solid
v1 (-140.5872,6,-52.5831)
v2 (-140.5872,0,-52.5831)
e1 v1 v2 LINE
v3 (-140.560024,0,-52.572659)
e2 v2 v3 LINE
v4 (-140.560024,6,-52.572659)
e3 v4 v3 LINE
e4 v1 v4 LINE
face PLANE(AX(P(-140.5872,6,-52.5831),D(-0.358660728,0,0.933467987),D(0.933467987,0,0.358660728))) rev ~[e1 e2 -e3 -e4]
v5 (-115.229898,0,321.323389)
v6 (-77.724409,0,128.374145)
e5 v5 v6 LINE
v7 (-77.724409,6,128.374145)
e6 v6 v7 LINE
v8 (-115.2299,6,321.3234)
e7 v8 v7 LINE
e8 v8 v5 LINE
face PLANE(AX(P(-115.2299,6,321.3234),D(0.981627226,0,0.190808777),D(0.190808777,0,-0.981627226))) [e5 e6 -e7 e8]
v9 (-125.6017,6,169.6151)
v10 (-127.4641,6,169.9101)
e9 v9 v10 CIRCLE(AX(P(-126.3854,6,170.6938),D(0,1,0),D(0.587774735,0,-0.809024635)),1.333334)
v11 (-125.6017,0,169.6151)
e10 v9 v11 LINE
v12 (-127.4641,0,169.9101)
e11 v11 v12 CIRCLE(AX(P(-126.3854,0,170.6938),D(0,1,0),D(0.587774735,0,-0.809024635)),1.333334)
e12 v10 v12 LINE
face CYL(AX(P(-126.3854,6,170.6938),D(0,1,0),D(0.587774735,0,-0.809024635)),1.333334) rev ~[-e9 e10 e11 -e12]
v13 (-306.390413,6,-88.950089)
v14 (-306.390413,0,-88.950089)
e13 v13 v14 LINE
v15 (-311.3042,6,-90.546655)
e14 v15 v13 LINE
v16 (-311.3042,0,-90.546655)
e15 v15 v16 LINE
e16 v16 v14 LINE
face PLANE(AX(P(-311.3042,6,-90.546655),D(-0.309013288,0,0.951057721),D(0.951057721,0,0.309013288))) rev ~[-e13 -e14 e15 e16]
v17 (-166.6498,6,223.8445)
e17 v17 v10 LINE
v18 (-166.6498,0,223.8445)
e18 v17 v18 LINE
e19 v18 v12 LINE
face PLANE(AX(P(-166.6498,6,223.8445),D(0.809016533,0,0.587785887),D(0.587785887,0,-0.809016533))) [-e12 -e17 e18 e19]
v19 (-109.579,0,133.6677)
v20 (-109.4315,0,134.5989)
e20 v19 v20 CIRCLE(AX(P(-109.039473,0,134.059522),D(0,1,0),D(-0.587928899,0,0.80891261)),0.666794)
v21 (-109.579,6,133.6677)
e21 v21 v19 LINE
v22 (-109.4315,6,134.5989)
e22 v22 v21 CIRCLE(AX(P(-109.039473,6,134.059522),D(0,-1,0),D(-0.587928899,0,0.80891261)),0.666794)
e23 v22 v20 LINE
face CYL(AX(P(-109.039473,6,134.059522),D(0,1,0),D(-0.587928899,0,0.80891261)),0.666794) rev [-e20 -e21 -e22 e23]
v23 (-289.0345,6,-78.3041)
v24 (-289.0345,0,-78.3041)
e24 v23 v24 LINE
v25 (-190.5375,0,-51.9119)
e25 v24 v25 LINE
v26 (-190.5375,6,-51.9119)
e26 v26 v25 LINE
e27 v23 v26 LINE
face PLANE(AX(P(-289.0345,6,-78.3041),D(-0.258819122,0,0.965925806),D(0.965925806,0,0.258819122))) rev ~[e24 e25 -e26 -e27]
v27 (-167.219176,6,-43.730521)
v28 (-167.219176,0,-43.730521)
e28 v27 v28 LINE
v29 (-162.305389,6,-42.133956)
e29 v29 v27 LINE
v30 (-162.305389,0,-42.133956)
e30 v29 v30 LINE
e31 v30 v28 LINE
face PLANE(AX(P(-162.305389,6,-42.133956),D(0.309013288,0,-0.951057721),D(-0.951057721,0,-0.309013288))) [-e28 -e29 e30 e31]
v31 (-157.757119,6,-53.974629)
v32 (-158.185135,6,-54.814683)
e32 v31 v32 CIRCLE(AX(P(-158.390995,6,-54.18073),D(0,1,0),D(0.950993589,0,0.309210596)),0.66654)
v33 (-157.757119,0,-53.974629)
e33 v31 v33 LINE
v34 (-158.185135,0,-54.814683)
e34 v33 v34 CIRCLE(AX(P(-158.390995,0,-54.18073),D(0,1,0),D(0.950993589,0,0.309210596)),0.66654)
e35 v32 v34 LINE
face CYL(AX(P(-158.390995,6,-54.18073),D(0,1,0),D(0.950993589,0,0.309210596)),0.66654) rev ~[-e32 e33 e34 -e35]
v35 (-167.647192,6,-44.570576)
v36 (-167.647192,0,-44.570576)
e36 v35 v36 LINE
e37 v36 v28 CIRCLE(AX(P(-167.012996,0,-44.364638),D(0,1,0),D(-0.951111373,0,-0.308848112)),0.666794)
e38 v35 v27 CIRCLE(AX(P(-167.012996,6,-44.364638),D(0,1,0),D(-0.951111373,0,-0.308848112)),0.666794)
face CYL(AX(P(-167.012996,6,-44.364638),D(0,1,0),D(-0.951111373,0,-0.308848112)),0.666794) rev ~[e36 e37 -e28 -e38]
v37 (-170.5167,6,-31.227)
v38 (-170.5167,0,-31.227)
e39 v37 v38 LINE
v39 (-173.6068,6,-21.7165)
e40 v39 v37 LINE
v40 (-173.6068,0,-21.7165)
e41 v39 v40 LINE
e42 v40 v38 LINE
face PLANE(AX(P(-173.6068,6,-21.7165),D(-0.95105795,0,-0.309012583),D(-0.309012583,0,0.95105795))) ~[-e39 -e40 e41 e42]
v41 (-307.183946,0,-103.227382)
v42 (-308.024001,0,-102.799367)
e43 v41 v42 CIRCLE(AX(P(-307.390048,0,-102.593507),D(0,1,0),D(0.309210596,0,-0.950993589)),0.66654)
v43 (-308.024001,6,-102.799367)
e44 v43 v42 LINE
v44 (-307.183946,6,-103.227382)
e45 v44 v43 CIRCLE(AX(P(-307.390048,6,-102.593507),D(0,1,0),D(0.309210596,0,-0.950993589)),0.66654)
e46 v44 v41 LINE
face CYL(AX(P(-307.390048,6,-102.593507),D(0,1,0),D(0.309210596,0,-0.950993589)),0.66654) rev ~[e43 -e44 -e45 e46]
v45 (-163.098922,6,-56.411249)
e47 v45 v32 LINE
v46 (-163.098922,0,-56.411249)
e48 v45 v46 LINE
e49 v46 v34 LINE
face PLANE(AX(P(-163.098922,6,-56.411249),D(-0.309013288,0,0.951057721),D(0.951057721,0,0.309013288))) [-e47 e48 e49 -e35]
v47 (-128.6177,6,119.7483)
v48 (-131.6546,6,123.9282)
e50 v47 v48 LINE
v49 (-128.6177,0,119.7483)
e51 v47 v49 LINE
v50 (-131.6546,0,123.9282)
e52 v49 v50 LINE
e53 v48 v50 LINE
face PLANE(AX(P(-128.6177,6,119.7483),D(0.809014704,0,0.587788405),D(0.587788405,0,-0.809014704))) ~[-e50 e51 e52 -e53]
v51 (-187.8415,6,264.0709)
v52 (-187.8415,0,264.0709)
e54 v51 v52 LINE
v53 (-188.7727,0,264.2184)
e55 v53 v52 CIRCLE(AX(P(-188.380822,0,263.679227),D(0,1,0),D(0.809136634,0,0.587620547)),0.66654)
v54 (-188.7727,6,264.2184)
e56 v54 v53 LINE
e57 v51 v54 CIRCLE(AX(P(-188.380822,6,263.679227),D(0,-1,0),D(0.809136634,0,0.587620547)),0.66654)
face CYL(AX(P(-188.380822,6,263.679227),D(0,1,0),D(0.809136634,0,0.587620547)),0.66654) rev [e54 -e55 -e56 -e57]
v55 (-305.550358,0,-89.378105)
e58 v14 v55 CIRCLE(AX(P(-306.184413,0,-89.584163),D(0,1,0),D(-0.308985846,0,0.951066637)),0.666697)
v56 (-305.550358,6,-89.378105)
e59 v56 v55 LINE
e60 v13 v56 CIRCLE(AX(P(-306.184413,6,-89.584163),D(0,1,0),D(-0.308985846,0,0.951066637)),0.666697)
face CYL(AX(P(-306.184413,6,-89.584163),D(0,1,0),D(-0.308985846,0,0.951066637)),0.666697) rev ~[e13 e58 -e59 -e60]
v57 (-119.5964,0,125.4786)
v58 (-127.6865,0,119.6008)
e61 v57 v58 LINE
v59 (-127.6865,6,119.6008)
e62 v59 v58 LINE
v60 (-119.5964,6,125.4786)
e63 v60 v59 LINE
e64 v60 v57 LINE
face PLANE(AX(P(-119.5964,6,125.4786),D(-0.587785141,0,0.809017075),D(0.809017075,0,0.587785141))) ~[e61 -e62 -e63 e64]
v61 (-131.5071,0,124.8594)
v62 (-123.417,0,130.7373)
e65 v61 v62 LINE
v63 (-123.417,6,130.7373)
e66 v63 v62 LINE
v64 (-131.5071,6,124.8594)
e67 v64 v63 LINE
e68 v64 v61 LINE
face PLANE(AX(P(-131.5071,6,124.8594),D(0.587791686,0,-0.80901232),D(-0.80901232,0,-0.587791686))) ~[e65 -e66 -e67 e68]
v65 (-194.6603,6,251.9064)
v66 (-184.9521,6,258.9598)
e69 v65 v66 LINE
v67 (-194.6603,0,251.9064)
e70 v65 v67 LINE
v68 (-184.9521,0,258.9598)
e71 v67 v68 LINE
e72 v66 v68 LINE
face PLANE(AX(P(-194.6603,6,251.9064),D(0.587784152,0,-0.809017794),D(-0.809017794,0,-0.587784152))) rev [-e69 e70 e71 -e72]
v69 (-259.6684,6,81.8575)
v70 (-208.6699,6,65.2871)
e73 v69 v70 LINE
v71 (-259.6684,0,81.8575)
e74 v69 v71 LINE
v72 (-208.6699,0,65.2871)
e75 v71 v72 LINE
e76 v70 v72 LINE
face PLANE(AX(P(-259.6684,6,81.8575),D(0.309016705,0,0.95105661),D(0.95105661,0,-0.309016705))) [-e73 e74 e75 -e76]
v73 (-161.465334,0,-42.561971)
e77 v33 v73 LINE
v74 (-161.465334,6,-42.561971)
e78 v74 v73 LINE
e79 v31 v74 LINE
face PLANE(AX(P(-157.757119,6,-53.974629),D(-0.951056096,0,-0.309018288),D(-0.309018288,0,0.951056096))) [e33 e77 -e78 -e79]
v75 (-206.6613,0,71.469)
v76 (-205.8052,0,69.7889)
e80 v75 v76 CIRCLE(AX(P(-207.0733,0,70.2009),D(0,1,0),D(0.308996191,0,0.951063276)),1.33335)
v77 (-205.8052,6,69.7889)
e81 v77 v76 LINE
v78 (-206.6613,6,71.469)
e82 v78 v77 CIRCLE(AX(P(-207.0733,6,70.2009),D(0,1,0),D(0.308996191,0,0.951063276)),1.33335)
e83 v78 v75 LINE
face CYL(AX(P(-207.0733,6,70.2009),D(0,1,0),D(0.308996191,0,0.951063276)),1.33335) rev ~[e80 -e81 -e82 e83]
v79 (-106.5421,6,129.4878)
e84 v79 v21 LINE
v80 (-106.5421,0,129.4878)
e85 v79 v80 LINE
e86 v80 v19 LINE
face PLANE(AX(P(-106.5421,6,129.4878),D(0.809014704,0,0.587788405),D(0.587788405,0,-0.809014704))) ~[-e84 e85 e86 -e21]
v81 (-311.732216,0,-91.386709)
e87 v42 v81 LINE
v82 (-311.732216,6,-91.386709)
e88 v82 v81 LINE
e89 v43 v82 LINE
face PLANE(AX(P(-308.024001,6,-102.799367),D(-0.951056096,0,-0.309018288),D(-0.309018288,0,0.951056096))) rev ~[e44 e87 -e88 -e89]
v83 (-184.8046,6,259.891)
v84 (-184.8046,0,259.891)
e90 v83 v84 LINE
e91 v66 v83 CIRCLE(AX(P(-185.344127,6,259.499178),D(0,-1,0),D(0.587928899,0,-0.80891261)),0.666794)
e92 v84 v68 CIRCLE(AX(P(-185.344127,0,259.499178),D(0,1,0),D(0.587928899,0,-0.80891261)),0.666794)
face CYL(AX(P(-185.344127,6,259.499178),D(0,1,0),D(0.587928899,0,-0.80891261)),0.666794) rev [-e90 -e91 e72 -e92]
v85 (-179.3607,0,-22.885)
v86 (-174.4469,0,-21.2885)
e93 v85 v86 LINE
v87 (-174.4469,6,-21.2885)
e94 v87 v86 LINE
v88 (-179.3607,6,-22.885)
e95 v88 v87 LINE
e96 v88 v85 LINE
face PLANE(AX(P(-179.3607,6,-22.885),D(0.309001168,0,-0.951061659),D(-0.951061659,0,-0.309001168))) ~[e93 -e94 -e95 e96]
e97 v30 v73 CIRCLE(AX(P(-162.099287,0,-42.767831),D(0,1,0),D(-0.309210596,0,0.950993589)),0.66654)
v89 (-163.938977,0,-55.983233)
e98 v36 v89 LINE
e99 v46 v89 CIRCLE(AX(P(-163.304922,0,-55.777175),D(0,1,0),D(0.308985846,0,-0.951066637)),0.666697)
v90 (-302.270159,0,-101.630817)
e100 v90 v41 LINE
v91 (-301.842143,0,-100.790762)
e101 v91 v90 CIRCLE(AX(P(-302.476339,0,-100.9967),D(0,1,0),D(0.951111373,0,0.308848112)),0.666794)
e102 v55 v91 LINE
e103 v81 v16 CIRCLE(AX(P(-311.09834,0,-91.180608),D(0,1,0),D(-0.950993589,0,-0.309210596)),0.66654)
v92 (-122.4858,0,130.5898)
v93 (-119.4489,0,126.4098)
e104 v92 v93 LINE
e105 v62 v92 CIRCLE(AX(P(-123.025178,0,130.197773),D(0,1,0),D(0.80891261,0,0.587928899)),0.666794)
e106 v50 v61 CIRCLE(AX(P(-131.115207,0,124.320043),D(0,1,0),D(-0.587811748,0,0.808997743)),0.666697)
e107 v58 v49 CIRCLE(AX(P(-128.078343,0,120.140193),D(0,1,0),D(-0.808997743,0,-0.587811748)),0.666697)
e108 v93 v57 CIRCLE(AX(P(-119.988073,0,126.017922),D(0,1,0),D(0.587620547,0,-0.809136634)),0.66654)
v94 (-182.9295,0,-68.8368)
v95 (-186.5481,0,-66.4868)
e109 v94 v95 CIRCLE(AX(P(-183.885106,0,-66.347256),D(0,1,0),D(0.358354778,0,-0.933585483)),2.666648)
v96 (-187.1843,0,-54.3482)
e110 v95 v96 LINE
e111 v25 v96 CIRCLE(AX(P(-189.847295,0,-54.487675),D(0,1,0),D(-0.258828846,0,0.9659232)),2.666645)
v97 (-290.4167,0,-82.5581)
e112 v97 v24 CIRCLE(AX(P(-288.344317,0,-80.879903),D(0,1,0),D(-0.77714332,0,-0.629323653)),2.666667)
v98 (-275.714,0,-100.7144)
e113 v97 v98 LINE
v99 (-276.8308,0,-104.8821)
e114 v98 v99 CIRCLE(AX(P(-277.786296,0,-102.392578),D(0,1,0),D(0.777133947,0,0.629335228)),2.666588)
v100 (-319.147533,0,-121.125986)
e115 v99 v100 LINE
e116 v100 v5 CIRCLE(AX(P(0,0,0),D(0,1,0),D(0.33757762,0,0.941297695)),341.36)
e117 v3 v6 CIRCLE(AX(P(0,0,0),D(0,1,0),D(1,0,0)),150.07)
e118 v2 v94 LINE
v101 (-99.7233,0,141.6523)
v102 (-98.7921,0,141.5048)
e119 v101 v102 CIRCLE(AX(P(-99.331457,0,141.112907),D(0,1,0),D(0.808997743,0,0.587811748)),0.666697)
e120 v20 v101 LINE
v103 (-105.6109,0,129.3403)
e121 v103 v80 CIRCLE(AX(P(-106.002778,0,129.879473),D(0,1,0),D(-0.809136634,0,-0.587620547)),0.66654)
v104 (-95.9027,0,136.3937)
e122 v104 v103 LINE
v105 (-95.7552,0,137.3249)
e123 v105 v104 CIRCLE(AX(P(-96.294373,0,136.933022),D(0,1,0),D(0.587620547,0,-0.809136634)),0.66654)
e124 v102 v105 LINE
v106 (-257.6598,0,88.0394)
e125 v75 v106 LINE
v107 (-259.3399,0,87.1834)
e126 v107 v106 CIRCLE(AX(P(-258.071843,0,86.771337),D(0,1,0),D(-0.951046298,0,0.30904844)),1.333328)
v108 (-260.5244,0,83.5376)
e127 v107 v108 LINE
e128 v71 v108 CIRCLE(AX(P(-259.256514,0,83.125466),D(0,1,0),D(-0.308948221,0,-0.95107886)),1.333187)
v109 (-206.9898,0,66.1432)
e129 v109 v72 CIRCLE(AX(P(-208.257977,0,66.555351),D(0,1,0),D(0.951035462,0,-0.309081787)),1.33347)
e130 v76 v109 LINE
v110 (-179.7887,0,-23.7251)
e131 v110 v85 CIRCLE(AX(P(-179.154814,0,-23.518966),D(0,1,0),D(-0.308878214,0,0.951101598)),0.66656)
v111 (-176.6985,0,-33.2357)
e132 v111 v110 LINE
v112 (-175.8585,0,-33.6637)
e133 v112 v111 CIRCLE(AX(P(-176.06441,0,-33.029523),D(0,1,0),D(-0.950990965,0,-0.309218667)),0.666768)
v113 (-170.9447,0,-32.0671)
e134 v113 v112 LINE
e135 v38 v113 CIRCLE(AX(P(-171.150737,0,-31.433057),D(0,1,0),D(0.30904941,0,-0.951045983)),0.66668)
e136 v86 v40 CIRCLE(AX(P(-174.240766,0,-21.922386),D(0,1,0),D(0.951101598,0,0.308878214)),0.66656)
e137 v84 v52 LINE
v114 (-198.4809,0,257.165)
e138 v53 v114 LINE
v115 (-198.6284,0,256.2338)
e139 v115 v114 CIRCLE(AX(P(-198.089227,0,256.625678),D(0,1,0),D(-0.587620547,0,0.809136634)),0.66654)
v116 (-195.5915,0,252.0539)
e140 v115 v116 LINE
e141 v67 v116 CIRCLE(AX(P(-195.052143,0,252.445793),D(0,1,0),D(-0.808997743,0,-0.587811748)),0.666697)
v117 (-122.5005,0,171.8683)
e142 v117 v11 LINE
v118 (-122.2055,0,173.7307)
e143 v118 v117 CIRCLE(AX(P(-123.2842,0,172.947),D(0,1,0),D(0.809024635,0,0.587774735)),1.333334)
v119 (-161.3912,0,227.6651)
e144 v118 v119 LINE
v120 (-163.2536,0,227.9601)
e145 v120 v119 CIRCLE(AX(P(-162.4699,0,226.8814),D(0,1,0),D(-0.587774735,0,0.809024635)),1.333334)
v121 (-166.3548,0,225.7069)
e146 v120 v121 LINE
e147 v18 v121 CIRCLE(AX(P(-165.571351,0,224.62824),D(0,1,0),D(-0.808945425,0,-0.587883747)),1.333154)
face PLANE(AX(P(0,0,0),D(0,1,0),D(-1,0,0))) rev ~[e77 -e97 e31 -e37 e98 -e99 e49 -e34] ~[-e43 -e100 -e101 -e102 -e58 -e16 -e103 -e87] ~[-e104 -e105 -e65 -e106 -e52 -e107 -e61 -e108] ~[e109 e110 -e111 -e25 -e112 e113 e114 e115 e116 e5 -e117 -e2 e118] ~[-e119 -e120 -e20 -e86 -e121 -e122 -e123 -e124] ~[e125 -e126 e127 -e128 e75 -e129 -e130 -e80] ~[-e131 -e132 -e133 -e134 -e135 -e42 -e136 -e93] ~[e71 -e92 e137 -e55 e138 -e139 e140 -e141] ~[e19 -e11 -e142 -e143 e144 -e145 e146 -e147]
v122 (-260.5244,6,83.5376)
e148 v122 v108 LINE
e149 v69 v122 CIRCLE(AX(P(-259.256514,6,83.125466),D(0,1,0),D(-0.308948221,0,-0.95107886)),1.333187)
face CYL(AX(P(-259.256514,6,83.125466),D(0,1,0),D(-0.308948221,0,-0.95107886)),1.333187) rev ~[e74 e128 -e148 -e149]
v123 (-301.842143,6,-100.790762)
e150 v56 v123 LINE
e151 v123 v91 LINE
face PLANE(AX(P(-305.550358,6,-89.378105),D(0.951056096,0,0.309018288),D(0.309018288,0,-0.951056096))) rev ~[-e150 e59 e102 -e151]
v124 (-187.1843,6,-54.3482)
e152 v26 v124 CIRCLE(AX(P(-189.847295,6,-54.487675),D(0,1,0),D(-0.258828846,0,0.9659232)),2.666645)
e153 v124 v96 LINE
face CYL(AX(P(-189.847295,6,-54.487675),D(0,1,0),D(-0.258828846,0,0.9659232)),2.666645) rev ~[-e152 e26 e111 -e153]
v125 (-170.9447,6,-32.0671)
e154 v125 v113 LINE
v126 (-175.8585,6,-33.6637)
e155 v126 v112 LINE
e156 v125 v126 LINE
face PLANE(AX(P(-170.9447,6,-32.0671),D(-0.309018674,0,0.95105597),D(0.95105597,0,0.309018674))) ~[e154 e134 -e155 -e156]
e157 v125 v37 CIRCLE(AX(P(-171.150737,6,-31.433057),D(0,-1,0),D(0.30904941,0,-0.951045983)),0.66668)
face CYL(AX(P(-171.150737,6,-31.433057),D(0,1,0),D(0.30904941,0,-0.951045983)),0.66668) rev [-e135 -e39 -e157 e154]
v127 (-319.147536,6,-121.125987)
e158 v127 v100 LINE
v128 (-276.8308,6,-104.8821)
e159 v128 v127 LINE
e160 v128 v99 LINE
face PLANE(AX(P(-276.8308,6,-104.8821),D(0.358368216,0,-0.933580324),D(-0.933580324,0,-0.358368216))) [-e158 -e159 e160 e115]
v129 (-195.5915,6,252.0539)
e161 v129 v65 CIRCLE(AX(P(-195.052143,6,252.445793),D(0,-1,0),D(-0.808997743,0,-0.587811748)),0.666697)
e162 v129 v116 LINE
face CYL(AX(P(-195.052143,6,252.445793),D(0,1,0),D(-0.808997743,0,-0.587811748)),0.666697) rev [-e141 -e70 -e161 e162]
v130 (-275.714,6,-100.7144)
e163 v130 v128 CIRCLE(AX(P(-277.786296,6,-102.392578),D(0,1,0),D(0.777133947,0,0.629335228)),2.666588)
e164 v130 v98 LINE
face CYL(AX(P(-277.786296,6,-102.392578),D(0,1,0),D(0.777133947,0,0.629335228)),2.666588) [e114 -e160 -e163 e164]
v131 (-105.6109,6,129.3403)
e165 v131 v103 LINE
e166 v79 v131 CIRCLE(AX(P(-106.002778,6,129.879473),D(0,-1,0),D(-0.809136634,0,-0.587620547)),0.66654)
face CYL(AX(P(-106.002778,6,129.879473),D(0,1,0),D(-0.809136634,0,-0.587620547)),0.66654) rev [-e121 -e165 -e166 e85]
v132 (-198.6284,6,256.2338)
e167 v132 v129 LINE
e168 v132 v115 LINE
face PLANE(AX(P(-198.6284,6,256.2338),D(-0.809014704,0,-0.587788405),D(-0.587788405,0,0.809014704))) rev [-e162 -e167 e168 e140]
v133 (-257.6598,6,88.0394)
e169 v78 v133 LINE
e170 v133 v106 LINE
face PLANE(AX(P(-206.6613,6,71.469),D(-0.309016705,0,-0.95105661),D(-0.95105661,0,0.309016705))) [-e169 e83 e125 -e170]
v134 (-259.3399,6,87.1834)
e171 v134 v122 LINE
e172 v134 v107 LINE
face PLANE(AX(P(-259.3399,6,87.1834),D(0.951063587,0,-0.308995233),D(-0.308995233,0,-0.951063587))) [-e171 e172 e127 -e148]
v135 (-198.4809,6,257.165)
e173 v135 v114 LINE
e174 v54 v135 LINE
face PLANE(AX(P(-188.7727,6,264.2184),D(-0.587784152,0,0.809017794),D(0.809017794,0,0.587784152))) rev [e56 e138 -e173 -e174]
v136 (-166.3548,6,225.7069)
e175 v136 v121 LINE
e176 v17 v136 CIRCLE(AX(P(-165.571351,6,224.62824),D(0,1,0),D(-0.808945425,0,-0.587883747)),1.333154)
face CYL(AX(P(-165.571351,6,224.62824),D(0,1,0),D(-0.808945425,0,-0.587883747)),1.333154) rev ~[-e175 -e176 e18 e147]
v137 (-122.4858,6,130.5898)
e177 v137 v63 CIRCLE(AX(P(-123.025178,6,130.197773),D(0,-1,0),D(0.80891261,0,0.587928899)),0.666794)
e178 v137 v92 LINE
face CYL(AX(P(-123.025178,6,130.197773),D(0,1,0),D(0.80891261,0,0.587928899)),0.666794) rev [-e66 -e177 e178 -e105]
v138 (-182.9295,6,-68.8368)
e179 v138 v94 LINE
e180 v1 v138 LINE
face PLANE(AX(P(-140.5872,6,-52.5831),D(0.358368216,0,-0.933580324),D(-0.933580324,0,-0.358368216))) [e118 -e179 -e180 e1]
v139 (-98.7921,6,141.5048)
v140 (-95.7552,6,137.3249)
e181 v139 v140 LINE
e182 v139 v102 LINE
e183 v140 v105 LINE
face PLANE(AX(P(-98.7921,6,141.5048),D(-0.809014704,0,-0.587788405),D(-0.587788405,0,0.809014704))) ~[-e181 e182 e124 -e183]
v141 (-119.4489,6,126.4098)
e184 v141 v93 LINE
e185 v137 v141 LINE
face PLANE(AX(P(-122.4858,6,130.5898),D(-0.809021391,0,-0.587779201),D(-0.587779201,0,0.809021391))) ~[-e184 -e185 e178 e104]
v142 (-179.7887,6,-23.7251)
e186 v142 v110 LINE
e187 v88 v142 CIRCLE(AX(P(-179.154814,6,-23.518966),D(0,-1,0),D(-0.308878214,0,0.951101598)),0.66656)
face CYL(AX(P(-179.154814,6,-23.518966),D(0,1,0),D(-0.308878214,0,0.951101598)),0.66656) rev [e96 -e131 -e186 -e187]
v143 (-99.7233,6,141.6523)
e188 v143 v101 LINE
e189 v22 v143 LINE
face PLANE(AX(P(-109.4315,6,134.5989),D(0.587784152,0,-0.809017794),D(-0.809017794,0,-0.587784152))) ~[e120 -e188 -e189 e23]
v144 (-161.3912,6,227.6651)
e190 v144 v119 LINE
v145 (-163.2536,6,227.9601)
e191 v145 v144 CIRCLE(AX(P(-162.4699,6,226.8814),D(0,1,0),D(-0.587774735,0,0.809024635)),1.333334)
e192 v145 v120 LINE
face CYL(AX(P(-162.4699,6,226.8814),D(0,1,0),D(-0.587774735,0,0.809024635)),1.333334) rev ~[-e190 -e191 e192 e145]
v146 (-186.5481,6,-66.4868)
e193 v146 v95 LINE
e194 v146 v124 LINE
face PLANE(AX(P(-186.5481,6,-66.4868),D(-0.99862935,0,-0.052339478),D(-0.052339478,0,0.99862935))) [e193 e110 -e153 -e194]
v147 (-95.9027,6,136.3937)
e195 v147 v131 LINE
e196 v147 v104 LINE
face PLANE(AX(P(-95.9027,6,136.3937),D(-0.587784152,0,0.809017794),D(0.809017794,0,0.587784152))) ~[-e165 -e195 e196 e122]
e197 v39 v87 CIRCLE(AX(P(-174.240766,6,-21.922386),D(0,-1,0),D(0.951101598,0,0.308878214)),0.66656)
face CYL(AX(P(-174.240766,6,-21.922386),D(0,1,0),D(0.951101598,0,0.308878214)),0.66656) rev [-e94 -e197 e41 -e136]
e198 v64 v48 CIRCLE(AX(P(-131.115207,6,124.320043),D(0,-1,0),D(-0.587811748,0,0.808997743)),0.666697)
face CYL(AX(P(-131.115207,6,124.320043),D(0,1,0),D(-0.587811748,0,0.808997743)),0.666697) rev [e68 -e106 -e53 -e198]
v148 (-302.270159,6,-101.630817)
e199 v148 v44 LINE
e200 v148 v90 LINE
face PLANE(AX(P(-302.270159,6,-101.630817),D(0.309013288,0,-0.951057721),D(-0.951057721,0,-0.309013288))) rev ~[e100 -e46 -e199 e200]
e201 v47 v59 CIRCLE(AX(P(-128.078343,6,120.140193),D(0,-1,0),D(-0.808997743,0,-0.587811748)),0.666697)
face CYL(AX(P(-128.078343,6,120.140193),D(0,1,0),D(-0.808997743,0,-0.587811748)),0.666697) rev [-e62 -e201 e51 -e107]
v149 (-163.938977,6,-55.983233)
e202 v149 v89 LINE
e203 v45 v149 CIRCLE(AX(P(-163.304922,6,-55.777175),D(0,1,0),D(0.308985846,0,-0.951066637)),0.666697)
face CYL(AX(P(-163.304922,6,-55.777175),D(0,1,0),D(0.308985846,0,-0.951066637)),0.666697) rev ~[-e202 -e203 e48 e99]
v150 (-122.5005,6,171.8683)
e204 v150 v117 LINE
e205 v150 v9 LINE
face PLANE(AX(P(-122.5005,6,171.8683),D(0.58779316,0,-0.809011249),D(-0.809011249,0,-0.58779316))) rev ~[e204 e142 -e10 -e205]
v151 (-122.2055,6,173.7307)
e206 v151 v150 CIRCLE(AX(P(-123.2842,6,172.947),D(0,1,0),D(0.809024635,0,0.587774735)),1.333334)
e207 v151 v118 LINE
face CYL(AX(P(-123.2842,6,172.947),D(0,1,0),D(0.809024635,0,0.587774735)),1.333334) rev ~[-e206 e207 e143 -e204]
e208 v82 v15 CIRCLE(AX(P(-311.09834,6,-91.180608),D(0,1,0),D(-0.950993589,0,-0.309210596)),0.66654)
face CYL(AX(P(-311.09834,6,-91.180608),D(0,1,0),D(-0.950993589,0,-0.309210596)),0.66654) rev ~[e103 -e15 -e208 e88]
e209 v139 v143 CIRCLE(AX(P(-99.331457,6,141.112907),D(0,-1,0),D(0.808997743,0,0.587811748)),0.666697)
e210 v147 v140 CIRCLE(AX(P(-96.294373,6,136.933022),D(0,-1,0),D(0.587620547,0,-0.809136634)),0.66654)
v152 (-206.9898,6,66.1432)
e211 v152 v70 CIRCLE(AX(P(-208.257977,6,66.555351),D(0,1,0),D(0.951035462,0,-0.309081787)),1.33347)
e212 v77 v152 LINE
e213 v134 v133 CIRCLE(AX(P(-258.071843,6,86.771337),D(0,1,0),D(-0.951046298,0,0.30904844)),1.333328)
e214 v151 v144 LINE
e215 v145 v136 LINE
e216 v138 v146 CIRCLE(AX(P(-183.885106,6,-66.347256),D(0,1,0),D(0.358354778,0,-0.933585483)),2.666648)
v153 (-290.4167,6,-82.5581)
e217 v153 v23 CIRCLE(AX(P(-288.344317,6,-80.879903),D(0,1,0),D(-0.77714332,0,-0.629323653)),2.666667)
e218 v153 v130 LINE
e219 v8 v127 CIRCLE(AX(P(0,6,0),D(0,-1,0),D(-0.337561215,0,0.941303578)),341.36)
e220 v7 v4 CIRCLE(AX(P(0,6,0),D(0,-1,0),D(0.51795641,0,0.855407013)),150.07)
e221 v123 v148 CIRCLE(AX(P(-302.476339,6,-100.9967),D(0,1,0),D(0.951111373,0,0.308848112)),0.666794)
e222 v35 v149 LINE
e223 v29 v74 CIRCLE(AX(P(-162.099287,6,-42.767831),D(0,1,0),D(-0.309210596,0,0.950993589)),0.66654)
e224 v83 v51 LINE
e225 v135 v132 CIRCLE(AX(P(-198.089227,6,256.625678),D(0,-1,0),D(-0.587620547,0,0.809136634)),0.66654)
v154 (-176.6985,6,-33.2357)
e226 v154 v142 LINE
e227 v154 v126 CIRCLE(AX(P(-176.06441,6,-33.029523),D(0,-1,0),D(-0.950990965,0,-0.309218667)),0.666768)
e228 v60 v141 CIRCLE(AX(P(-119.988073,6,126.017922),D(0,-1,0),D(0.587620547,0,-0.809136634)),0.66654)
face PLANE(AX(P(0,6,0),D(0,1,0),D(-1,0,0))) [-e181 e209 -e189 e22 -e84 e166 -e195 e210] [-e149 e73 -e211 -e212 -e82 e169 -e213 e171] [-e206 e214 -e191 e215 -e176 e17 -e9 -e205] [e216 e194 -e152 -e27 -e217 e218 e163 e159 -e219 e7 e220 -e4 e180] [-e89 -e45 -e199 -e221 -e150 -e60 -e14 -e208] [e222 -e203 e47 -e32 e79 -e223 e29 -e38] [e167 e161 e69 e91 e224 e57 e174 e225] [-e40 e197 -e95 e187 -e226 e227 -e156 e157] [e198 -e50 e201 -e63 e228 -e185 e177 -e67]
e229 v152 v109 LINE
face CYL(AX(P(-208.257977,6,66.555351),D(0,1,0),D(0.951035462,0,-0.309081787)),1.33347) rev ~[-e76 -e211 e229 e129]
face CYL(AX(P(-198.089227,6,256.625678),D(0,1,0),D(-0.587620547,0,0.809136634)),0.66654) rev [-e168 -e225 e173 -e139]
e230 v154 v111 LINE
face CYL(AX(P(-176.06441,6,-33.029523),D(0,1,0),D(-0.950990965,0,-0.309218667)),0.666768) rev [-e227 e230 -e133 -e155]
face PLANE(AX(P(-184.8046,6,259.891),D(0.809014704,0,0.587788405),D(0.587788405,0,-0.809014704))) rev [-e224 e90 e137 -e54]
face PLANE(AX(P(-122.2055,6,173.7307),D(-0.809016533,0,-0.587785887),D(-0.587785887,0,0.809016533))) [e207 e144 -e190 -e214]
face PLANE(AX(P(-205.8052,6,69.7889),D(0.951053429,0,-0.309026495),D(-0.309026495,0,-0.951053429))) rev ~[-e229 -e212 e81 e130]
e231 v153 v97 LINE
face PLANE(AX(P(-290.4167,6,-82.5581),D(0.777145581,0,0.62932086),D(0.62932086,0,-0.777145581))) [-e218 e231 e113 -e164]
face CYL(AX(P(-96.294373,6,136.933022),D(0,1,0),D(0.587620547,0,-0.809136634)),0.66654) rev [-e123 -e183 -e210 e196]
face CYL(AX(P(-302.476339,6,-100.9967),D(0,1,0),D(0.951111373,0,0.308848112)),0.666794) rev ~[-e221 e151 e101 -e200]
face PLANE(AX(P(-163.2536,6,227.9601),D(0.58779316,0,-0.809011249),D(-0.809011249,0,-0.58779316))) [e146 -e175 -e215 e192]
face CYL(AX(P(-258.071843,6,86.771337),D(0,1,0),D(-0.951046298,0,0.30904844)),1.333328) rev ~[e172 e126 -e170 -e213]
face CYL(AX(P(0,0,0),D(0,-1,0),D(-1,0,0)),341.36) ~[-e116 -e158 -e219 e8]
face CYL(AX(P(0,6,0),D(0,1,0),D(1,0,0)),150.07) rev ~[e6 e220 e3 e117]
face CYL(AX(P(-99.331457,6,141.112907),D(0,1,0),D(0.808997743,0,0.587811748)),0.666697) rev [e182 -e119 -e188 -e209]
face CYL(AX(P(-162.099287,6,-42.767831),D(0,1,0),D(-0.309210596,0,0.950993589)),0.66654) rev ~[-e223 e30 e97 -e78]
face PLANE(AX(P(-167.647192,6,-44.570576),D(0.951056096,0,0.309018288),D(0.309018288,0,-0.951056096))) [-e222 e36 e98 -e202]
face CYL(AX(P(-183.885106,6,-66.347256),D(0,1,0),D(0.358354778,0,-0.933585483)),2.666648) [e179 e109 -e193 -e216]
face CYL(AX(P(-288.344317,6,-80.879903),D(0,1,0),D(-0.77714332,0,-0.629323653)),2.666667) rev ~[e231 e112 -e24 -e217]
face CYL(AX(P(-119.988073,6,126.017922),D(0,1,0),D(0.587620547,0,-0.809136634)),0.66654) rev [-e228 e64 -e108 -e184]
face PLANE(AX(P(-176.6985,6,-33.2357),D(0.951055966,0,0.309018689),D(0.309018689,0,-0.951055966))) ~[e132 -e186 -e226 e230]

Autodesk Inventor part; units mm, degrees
ref_plane "YZ Plane" through (0, 0, 0) normal (1, 0, 0) x (0, 1, 0)
ref_plane "XZ Plane" through (0, 0, 0) normal (0, 1, 0) x (-1, 0, 0)
sketch "Sketch1" plane through (0, 0, 0) normal (0, 1, 0) x (-1, 0, 0)
  circle A0 centre (0, 0) radius 341.36
  circle A1 centre (0, 0) radius 150.07
  dimension "d84" = 300.14
  dimension "d85" = 682.72
extrude "Extrusion3" add sketch "Sketch1" along normal blind 6 contours A0 | A1
sketch "Sketch2" plane through (0, 6, 0) normal (0, 1, 0) x (1, 0, 0)
  circle A0 centre (0, 0) radius 245.715 construction
  line L0 (245.7148, 0.3131) -> (341.6521, -0.0088)
  line L1 (-0.6289, 279.0483) -> (-0.0524, 279.0483)
  line L2 (3.25, 279.0483) -> (3.25, 212.3817)
  line L3 (0.5377, 212.3817) -> (-0.051, 212.3817)
  line L4 (-3.25, 212.3817) -> (-3.25, 279.0483)
  arc A1 (-3.25, 212.3817) -> (-1.9167, 211.0483) centre (-1.9167, 212.3817) ccw
  arc A2 (1.9167, 211.0483) -> (3.25, 212.3817) centre (1.9167, 212.3817) ccw
  arc A3 (-1.9167, 280.3817) -> (-3.25, 279.0483) centre (-1.9167, 279.0483) ccw
  arc A4 (3.25, 279.0483) -> (1.9167, 280.3817) centre (1.9167, 279.0483) ccw
  line L5 (-1.9167, 280.3817) -> (1.9167, 280.3817)
  line L6 (-1.9167, 211.0483) -> (1.9167, 211.0483)
  line L7 (0, 0) -> (0, 212.3817)
  line L8 (0, 280.3817) -> (0, 341.36)
  line L9 (0, 211.0483) -> (0, 245.715) construction
  line L10 (0, 280.3817) -> (0, 245.715) construction
  arc A5 (-157.4948, 221.8428) -> (-159.3572, 222.1378) centre (-158.5735, 221.0591) ccw
  line L11 (-162.4585, 219.8846) -> (-159.3572, 222.1378)
  arc A6 (-162.4585, 219.8846) -> (-162.7534, 218.0222) centre (-161.6748, 218.8059) ccw
  line L12 (-160.9079, 221.0112) -> (-144.3647, 198.2416) construction
  line L13 (-160.633, 219.5628) -> (-160.1666, 219.9017)
  line L14 (-157.4948, 221.8428) -> (-125.976, 178.4609)
  line L15 (-131.2346, 174.6403) -> (-162.7534, 218.0222)
  line L16 (-127.8216, 175.4719) -> (-144.3647, 198.2416) construction
  line L17 (-128.1703, 176.8667) -> (-128.6466, 176.5206)
  arc A7 (-126.271, 176.5985) -> (-125.976, 178.4609) centre (-127.0547, 177.6772) ccw
  line L18 (-129.3722, 174.3453) -> (-126.271, 176.5985)
  arc A8 (-131.2346, 174.6403) -> (-129.3722, 174.3453) centre (-130.156, 175.424) ccw
  arc A9 (-259.6684, -81.8575) -> (-260.5244, -83.5376) centre (-259.2564, -83.1256) ccw
  line L19 (-259.3399, -87.1834) -> (-260.5244, -83.5376)
  arc A10 (-259.3399, -87.1834) -> (-257.6598, -88.0394) centre (-258.0718, -86.7713) ccw
  line L20 (-259.9321, -85.3605) -> (-233.1648, -76.6633) construction
  line L21 (-258.4697, -85.5466) -> (-258.6479, -84.9983)
  line L22 (-259.6684, -81.8575) -> (-208.6699, -65.2871)
  line L23 (-206.6613, -71.469) -> (-257.6598, -88.0394)
  line L24 (-206.3975, -67.966) -> (-233.1648, -76.6633) construction
  line L25 (-207.8317, -67.8666) -> (-207.6498, -68.4265)
  arc A11 (-206.9898, -66.1432) -> (-208.6699, -65.2871) centre (-208.2578, -66.5552) ccw
  line L26 (-205.8052, -69.7889) -> (-206.9898, -66.1432)
  arc A12 (-206.6613, -71.469) -> (-205.8052, -69.7889) centre (-207.0733, -70.2009) ccw
  arc A13 (258.6901, -87.4674) -> (260.3702, -86.6114) centre (259.1021, -86.1993) ccw
  line L27 (261.5548, -82.9657) -> (260.3702, -86.6114)
  arc A14 (261.5548, -82.9657) -> (260.6987, -81.2856) centre (260.2867, -82.5536) ccw
  line L28 (260.9625, -84.7885) -> (234.1951, -76.0913) construction
  line L29 (259.8887, -83.7783) -> (259.7106, -84.3266)
  line L30 (258.6901, -87.4674) -> (207.6916, -70.897)
  line L31 (209.7002, -64.7151) -> (260.6987, -81.2856)
  line L32 (207.4278, -67.394) -> (234.1951, -76.0913) construction
  line L33 (208.5297, -68.3175) -> (208.7116, -67.7576)
  arc A15 (206.8355, -69.2169) -> (207.6916, -70.897) centre (208.1036, -69.6289) ccw
  line L34 (208.0201, -65.5712) -> (206.8355, -69.2169)
  arc A16 (209.7002, -64.7151) -> (208.0201, -65.5712) centre (209.2882, -65.9832) ccw
  arc A17 (162.9147, 218.5186) -> (162.6198, 220.381) centre (161.836, 219.3023) ccw
  line L35 (159.5185, 222.6342) -> (162.6198, 220.381)
  arc A18 (159.5185, 222.6342) -> (157.6561, 222.3392) centre (158.7348, 221.5555) ccw
  line L36 (161.0691, 221.5076) -> (144.526, 198.7379) construction
  line L37 (159.7766, 220.7986) -> (160.243, 220.4597)
  line L38 (162.9147, 218.5186) -> (131.3959, 175.1367)
  line L39 (126.1373, 178.9573) -> (157.6561, 222.3392)
  line L40 (127.9829, 175.9683) -> (144.526, 198.7379) construction
  line L41 (129.2017, 176.7309) -> (128.7254, 177.0769)
  arc A19 (129.5335, 174.8417) -> (131.3959, 175.1367) centre (130.3172, 175.9204) ccw
  line L42 (126.4323, 177.0949) -> (129.5335, 174.8417)
  arc A20 (126.1373, 178.9573) -> (126.4323, 177.0949) centre (127.216, 178.1736) ccw
  line L43 (-265.5851, 85.6325) -> (-265.4069, 86.1808)
  line L44 (-267.2511, 84.8198) -> (-266.0665, 88.4656)
  line L45 (-201.3112, 63.3947) -> (-200.1266, 67.0404)
  arc A21 (-267.2511, 84.8198) -> (-266.395, 83.1397) centre (-265.983, 84.4078) ccw
  arc A22 (-264.3864, 89.3216) -> (-266.0665, 88.4656) centre (-264.7985, 88.0535) ccw
  line L46 (-266.6588, 86.6427) -> (-233.6889, 75.9301) construction
  line L47 (-202.9913, 62.5386) -> (-266.395, 83.1397)
  line L48 (-264.3864, 89.3216) -> (-200.9827, 68.7205)
  line L49 (-200.7189, 65.2175) -> (-233.6889, 75.9301) construction
  arc A23 (-202.9913, 62.5386) -> (-201.3112, 63.3947) centre (-202.5793, 63.8067) ccw
  arc A24 (-200.1266, 67.0404) -> (-200.9827, 68.7205) centre (-201.3947, 67.4524) ccw
  line L50 (-201.8208, 66.141) -> (-202.0027, 65.5811)
  line L51 (-163.5117, -226.1245) -> (-163.9781, -225.7857)
  line L52 (-163.2536, -227.9601) -> (-166.3548, -225.7069)
  line L53 (-122.5005, -171.8683) -> (-125.6017, -169.6151)
  arc A25 (-163.2536, -227.9601) -> (-161.3912, -227.6651) centre (-162.4699, -226.8814) ccw
  arc A26 (-166.6498, -223.8445) -> (-166.3548, -225.7069) centre (-165.5711, -224.6283) ccw
  line L54 (-164.8042, -226.8335) -> (-144.4277, -198.7876) construction
  line L55 (-122.2055, -173.7307) -> (-161.3912, -227.6651)
  line L56 (-166.6498, -223.8445) -> (-127.4641, -169.9101)
  line L57 (-124.0511, -170.7417) -> (-144.4277, -198.7876) construction
  arc A27 (-122.2055, -173.7307) -> (-122.5005, -171.8683) centre (-123.2842, -172.947) ccw
  arc A28 (-125.6017, -169.6151) -> (-127.4641, -169.9101) centre (-126.3854, -170.6938) ccw
  line L58 (-125.2699, -171.5043) -> (-124.7936, -171.8503)
  line L59 (164.5293, -225.3852) -> (164.0629, -225.724)
  line L60 (166.3548, -225.7069) -> (163.2536, -227.9601)
  line L61 (125.6017, -169.6151) -> (122.5005, -171.8683)
  arc A29 (166.3548, -225.7069) -> (166.6498, -223.8445) centre (165.5711, -224.6283) ccw
  arc A30 (161.3912, -227.6651) -> (163.2536, -227.9601) centre (162.4699, -226.8814) ccw
  line L62 (164.8042, -226.8335) -> (144.4277, -198.7876) construction
  line L63 (127.4641, -169.9101) -> (166.6498, -223.8445)
  line L64 (161.3912, -227.6651) -> (122.2055, -173.7307)
  line L65 (124.0511, -170.7417) -> (144.4277, -198.7876) construction
  arc A31 (127.4641, -169.9101) -> (125.6017, -169.6151) centre (126.3854, -170.6938) ccw
  arc A32 (122.5005, -171.8683) -> (122.2055, -173.7307) centre (123.2842, -172.947) ccw
  line L66 (124.3998, -172.1365) -> (124.8761, -171.7904)
  line L67 (265.1964, 86.8288) -> (265.3745, 86.2805)
  line L68 (266.0665, 88.4656) -> (267.2511, 84.8198)
  line L69 (200.1266, 67.0404) -> (201.3112, 63.3947)
  arc A33 (266.0665, 88.4656) -> (264.3864, 89.3216) centre (264.7985, 88.0535) ccw
  arc A34 (266.395, 83.1397) -> (267.2511, 84.8198) centre (265.983, 84.4078) ccw
  line L70 (266.6588, 86.6427) -> (233.6889, 75.9301) construction
  line L71 (200.9827, 68.7205) -> (264.3864, 89.3216)
  line L72 (266.395, 83.1397) -> (202.9913, 62.5386)
  line L73 (200.7189, 65.2175) -> (233.6889, 75.9301) construction
  arc A35 (200.9827, 68.7205) -> (200.1266, 67.0404) centre (201.3947, 67.4524) ccw
  arc A36 (201.3112, 63.3947) -> (202.9913, 62.5386) centre (202.5793, 63.8067) ccw
  line L74 (202.1531, 65.1181) -> (201.9712, 65.678)
  line L75 (236.8664, -101.279) -> (236.7913, -101.5102)
  point P0 (-128.6053, 176.5506)
  point P1 (-207.6656, -68.3781)
  point P2 (208.6959, -67.8061)
  point P3 (128.7666, 177.047)
  point P4 (-201.987, 65.6295)
  point P5 (-124.8348, -171.8204)
  point P6 (124.8348, -171.8204)
  point P7 (201.987, 65.6295)
  dimension "d21" = 6.5
  dimension "d23" = 66.6667
  dimension "d24" = 2.6667
  dimension "d25" = 2.6667
  dimension "d32" = 1.3333
  dimension "d33" = 1.3333
  dimension "d41" = 90
  dimension "d42" = 3.25
  dimension "d43" = 90
  dimension "d49" = 360
  dimension "d86" = 491.43
  dimension "d96" = 0.243
extrude "Extrusion4" cut sketch "Sketch2" against normal through all
sketch "Sketch3" plane through (0, 6, 0) normal (0, 1, 0) x (1, 0, 0)
  arc A0 (-115.2299, -321.3234) -> (115.2355, -321.3214) centre (0, 0) ccw
  arc A1 (-77.7244, -128.3741) -> (77.7297, -128.3709) centre (0, 0) ccw
  line L0 (-122.1811, -173.696) -> (-161.3589, -227.6196)
  line L1 (-115.2299, -321.3234) -> (-77.7244, -128.3741)
  line L2 (0, 0) -> (0, -341.2918)
  line L3 (115.2355, -321.3214) -> (77.7297, -128.3709)
  line L4 (161.3912, -227.6651) -> (122.2055, -173.7307) projected
  dimension "d52" = 25
  dimension "d87" = 150.07
  dimension "d88" = 341.36
  dimension "d89" = 25
  dimension "d90" = 11
  dimension "d91" = 11
extrude "Extrusion5" cut sketch "Sketch3" against normal blind 10
sketch "Sketch5" plane through (0, 6, 0) normal (0, 1, 0) x (1, 0, 0)
  line L0 (3.25, 279.0483) -> (3.25, 212.3817) projected
  line L1 (5.5862, 197.9634) -> (-6.155, 194.8174)
  line L2 (-11.2263, 301.7146) -> (10.5847, 293.3421)
  line L3 (6.5657, 149.9554) -> (8.9394, 195.248)
  line L4 (14.2034, 295.6921) -> (16.5771, 340.9846)
  arc A0 (10.5847, 293.3421) -> (14.2034, 295.6921) centre (11.5404, 295.8316) ccw
  arc A1 (8.9394, 195.248) -> (5.5862, 197.9634) centre (6.2763, 195.3876) ccw
  arc A2 (-11.2263, 301.7146) -> (-14.8449, 299.0854) centre (-12.1819, 299.225) ccw
  line L5 (-3.25, 212.3817) -> (-3.25, 279.0483) projected
  line L6 (-14.8449, 299.0854) -> (-9.5081, 197.2536)
  arc A3 (-9.5081, 197.2536) -> (-6.155, 194.8174) centre (-6.8451, 197.3932) ccw
  line L7 (-1.9167, 211.0483) -> (1.9167, 211.0483) projected
  line L8 (1.9167, 280.3817) -> (-1.9167, 280.3817) projected
  arc A4 (115.2355, -321.3214) -> (-115.2299, -321.3234) centre (0, 0) ccw
  line L9 (16.5771, 340.9846) -> (16.5774, 340.9903)
  arc A5 (-190.5375, 51.9119) -> (-187.1843, 54.3482) centre (-189.8473, 54.4877) ccw
  line L10 (-186.5481, 66.4868) -> (-187.1843, 54.3482)
  arc A6 (-182.9295, 68.8368) -> (-186.5481, 66.4868) centre (-183.8851, 66.3472) ccw
  arc A7 (-275.714, 100.7144) -> (-276.8308, 104.8821) centre (-277.7864, 102.3926) ccw
  line L11 (-289.0345, 78.3041) -> (-190.5375, 51.9119)
  arc A8 (-290.4167, 82.5581) -> (-289.0345, 78.3041) centre (-288.3443, 80.8799) ccw
  line L12 (-290.4167, 82.5581) -> (-275.714, 100.7144)
  line L13 (-276.8308, 104.8821) -> (-319.1731, 121.1358)
  line L14 (-140.5872, 52.5831) -> (-182.9295, 68.8368)
  line L15 (-319.1731, 121.1358) -> (-319.1784, 121.1378)
  arc A9 (184.6611, 69.9975) -> (183.3803, 66.0556) centre (185.6168, 67.508) ccw
  line L16 (190.0006, 55.8613) -> (183.3803, 66.0556)
  arc A10 (188.4543, 51.8331) -> (190.0006, 55.8613) centre (187.7641, 54.4089) ccw
  arc A11 (282.2558, 80.581) -> (285.609, 77.8656) centre (284.9188, 80.4414) ccw
  line L17 (279.8598, 106.5409) -> (184.6611, 69.9975)
  arc A12 (283.4785, 103.9117) -> (279.8598, 106.5409) centre (280.8155, 104.0513) ccw
  line L18 (283.4785, 103.9117) -> (282.2558, 80.581)
  line L19 (285.609, 77.8656) -> (329.4183, 89.6043)
  line L20 (144.645, 40.0945) -> (188.4543, 51.8331)
  line L21 (329.4183, 89.6043) -> (329.4238, 89.6058)
  circle A13 centre (0, 0) radius 150.07
  line L22 (-140.5872, 52.5831) -> (-140.5479, 52.568)
  line L23 (144.645, 40.0945) -> (144.5122, 40.0589)
  line L24 (6.5657, 149.9554) -> (6.5621, 149.8874)
  arc A14 (-77.7244, -128.3741) -> (77.7297, -128.3709) centre (0, 0) ccw projected
  arc A15 (115.2355, -321.3214) -> (-115.2299, -321.3234) centre (0, 0) ccw projected
  line L25 (77.7297, -128.3709) -> (115.2355, -321.3214)
  line L26 (-77.7244, -128.3741) -> (-115.2299, -321.3234)
  point P0 (-77.7399, -128.3998)
  point P1 (77.7399, -128.3998)
  point P2 (-319.1475, 121.126)
  point P3 (-140.56, 52.5727)
  point P4 (6.5642, 149.9264)
  point P5 (16.5757, 340.9573)
  point P6 (329.3918, 89.5972)
  point P7 (144.6169, 40.0869)
  dimension "d63" = 2.6667
  dimension "d64" = 3
  dimension "d66" = 3
  dimension "d67" = 2.6667
  dimension "d68" = 2.6667
  dimension "d70" = 72
  dimension "d71" = 72
  dimension "d94" = 300.14
  dimension "d95" = 682.72
sketch "Sketch6" plane through (0, 6, 0) normal (0, 1, 0) x (1, 0, 0)
  line L0 (188.7727, -264.2184) -> (198.4809, -257.165)
  line L1 (194.6603, -251.9064) -> (184.9521, -258.9598)
  line L2 (161.3912, -227.6651) -> (122.2055, -173.7307) projected
  line L3 (166.3548, -225.7069) -> (163.2536, -227.9601) projected
  arc A0 (195.5915, -252.0539) -> (194.6603, -251.9064) centre (195.0522, -252.4457) ccw
  arc A1 (198.4809, -257.165) -> (198.6284, -256.2338) centre (198.0891, -256.6256) ccw
  arc A2 (187.8415, -264.0709) -> (188.7727, -264.2184) centre (188.3809, -263.6791) ccw
  arc A3 (184.9521, -258.9598) -> (184.8046, -259.891) centre (185.344, -259.4991) ccw
  line L4 (184.8046, -259.891) -> (187.8415, -264.0709)
  line L5 (198.6284, -256.2338) -> (195.5915, -252.0539)
  line L6 (122.2055, -173.7307) -> (161.3912, -227.6651) projected
  line L7 (141.7983, -200.6979) -> (147.057, -196.8773)
  line L8 (166.6498, -223.8445) -> (127.4641, -169.9101) projected
  line L9 (95.9027, -136.3937) -> (105.6109, -129.3403)
  line L10 (109.4315, -134.5989) -> (99.7233, -141.6523)
  arc A4 (109.4315, -134.5989) -> (109.579, -133.6677) centre (109.0396, -134.0596) ccw
  arc A5 (106.5421, -129.4878) -> (105.6109, -129.3403) centre (106.0027, -129.8796) ccw
  arc A6 (95.9027, -136.3937) -> (95.7552, -137.3249) centre (96.2945, -136.9331) ccw
  arc A7 (98.7921, -141.5048) -> (99.7233, -141.6523) centre (99.3314, -141.113) ccw
  line L11 (98.7921, -141.5048) -> (95.7552, -137.3249)
  line L12 (106.5421, -129.4878) -> (109.579, -133.6677)
  point P0 (0, 0)
  dimension "d104" = 6.5
  dimension "d105" = 12
  dimension "d108" = 1.3333
  dimension "d109" = 1.3333
  dimension "d110" = 1.3333
  dimension "d111" = 1.3333
  dimension "d112" = 0
  dimension "d149" = 145
  dimension "d150" = 90
  dimension "d151" = 90
  dimension "d152" = 90
  dimension "d153" = 90
extrude "Extrusion7" cut sketch "Sketch6" against normal through all
sketch "Sketch7" plane through (0, 6, 0) normal (0, 1, 0) x (1, 0, 0)
  line L0 (119.5964, -125.4786) -> (127.6865, -119.6008)
  line L1 (106.4838, -136.3528) -> (96.7756, -143.4062)
  line L2 (128.6177, -119.7483) -> (131.6546, -123.9282)
  line L3 (131.5071, -124.8594) -> (123.417, -130.7373)
  line L4 (122.4858, -130.5898) -> (119.4489, -126.4098)
  line L5 (103.5944, -131.2417) -> (106.6313, -135.4216)
  arc A0 (119.5964, -125.4786) -> (119.4489, -126.4098) centre (119.9882, -126.018) ccw
  arc A1 (122.4858, -130.5898) -> (123.417, -130.7373) centre (123.0251, -130.1979) ccw
  arc A2 (128.6177, -119.7483) -> (127.6865, -119.6008) centre (128.0784, -120.1401) ccw
  arc A3 (131.5071, -124.8594) -> (131.6546, -123.9282) centre (131.1153, -124.3201) ccw
  line L6 (173.6068, 21.7165) -> (170.5167, 31.227)
  line L7 (170.9447, 32.0671) -> (175.8585, 33.6637)
  line L8 (176.6985, 33.2357) -> (179.7887, 23.7251)
  line L9 (179.3607, 22.885) -> (174.4469, 21.2885)
  arc A4 (173.6068, 21.7165) -> (174.4469, 21.2885) centre (174.2409, 21.9225) ccw
  arc A5 (179.3607, 22.885) -> (179.7887, 23.7251) centre (179.1547, 23.5191) ccw
  arc A6 (170.9447, 32.0671) -> (170.5167, 31.227) centre (171.1507, 31.4331) ccw
  arc A7 (176.6985, 33.2357) -> (175.8585, 33.6637) centre (176.0645, 33.0296) ccw
  line L10 (188.4543, 51.8331) -> (144.6169, 40.0869) projected
  line L11 (201.3112, 63.3947) -> (200.1266, 67.0404) projected
  line L12 (179.8921, 12.7927) -> (180.0981, 12.1586)
  line L13 (183.5904, 29.3861) -> (183.8471, 29.4696)
  point P0 (0, 0)
  dimension "d116" = 1.3333
  dimension "d117" = 1.3333
  dimension "d119" = 1.3333
  dimension "d120" = 1.3333
  dimension "d121" = 6.5
  dimension "d122" = 10
  dimension "d126" = 1.09
  dimension "d127" = 16.3333
  dimension "d128" = 1.3333
  dimension "d129" = 1.3333
  dimension "d130" = 1.3333
  dimension "d131" = 1.3333
  dimension "d132" = 6.5
  dimension "d133" = 10
  dimension "d135" = 3
  dimension "d140" = 0.6667
  dimension "d148" = 0.27
extrude "Extrusion8" cut sketch "Sketch7" against normal through all contours L0 A2 L2 A3 L3 A1 L4 A0
extrude "Extrusion9" cut sketch "Sketch7" against normal through all contours L6 A6 L7 A7 L8 A5 L9 A4
ref_plane "Work Plane1" through (265.3907, 0, -86.2307) normal (0.309, 0, 0.9511) x (0.9511, 0, -0.309)
mirror "Mirror2" about plane through (265.3907, 0, -86.2307) normal (0.309, 0, 0.9511) of "Extrusion9"
mirror "Mirror1" about plane through (0, 0, 0) normal (1, 0, 0) of "Extrusion8", "Extrusion9", "Mirror2"
pattern_circular "Circular Pattern1" count 2 over 72 about axis through (0, -10, 0) along (0, 1, 0) of "Extrusion9", "Mirror2"
pattern_circular "Circular Pattern2" count 2 over 72 about axis through (0, -10, 0) along (0, 1, 0) of "Extrusion7"
pattern_circular "Circular Pattern3" count 2 over 144 about axis through (0, -10, 0) along (0, 1, 0) of "Extrusion7"
mirror "Mirror3" about plane through (0, 0, 0) normal (1, 0, 0) of "Extrusion7"
pattern_circular "Circular Pattern4" count 2 over 144 about axis through (0, -10, 0) along (0, -1, 0) of "Extrusion7"
extrude "Extrusion10" cut sketch "Sketch5" against normal through all contours A1 L3 L24 A13 L22 L14 A6 L10 A5 L11 A8 L12 A7 L13 A4 L4 A0 L2 A2 L6 A3 L1 | L1 A3 L6 A2 L2 A0 L4 A4 L19 A11 L18 A12 L17 A9 L16 A10 L20 L23 A13 L24 L3 A1 | A13 | L23 L20 A10 L16 A9 L17 A12 L18 A11 L19 A4 L25 A13
equation "\"BendRadius\" = Thickness"
equation "\"BendReliefWidth\" = Thickness"
equation "\"BendReliefDepth\" = 0.5 * Thickness"
equation "\"CornerReliefSize\" = 4 * Thickness"
equation "\"MinimumRemnant\" = 2 * Thickness"
equation "\"TransitionRadius\" = BendRadius"
equation "\"JacobiRadiusSize\" = BendRadius"
equation "\"GapSize\" = Thickness"
equation "\"Thickness\" = 0.5"
properties part number "Ring B-1" material "Wood (Maple)"
